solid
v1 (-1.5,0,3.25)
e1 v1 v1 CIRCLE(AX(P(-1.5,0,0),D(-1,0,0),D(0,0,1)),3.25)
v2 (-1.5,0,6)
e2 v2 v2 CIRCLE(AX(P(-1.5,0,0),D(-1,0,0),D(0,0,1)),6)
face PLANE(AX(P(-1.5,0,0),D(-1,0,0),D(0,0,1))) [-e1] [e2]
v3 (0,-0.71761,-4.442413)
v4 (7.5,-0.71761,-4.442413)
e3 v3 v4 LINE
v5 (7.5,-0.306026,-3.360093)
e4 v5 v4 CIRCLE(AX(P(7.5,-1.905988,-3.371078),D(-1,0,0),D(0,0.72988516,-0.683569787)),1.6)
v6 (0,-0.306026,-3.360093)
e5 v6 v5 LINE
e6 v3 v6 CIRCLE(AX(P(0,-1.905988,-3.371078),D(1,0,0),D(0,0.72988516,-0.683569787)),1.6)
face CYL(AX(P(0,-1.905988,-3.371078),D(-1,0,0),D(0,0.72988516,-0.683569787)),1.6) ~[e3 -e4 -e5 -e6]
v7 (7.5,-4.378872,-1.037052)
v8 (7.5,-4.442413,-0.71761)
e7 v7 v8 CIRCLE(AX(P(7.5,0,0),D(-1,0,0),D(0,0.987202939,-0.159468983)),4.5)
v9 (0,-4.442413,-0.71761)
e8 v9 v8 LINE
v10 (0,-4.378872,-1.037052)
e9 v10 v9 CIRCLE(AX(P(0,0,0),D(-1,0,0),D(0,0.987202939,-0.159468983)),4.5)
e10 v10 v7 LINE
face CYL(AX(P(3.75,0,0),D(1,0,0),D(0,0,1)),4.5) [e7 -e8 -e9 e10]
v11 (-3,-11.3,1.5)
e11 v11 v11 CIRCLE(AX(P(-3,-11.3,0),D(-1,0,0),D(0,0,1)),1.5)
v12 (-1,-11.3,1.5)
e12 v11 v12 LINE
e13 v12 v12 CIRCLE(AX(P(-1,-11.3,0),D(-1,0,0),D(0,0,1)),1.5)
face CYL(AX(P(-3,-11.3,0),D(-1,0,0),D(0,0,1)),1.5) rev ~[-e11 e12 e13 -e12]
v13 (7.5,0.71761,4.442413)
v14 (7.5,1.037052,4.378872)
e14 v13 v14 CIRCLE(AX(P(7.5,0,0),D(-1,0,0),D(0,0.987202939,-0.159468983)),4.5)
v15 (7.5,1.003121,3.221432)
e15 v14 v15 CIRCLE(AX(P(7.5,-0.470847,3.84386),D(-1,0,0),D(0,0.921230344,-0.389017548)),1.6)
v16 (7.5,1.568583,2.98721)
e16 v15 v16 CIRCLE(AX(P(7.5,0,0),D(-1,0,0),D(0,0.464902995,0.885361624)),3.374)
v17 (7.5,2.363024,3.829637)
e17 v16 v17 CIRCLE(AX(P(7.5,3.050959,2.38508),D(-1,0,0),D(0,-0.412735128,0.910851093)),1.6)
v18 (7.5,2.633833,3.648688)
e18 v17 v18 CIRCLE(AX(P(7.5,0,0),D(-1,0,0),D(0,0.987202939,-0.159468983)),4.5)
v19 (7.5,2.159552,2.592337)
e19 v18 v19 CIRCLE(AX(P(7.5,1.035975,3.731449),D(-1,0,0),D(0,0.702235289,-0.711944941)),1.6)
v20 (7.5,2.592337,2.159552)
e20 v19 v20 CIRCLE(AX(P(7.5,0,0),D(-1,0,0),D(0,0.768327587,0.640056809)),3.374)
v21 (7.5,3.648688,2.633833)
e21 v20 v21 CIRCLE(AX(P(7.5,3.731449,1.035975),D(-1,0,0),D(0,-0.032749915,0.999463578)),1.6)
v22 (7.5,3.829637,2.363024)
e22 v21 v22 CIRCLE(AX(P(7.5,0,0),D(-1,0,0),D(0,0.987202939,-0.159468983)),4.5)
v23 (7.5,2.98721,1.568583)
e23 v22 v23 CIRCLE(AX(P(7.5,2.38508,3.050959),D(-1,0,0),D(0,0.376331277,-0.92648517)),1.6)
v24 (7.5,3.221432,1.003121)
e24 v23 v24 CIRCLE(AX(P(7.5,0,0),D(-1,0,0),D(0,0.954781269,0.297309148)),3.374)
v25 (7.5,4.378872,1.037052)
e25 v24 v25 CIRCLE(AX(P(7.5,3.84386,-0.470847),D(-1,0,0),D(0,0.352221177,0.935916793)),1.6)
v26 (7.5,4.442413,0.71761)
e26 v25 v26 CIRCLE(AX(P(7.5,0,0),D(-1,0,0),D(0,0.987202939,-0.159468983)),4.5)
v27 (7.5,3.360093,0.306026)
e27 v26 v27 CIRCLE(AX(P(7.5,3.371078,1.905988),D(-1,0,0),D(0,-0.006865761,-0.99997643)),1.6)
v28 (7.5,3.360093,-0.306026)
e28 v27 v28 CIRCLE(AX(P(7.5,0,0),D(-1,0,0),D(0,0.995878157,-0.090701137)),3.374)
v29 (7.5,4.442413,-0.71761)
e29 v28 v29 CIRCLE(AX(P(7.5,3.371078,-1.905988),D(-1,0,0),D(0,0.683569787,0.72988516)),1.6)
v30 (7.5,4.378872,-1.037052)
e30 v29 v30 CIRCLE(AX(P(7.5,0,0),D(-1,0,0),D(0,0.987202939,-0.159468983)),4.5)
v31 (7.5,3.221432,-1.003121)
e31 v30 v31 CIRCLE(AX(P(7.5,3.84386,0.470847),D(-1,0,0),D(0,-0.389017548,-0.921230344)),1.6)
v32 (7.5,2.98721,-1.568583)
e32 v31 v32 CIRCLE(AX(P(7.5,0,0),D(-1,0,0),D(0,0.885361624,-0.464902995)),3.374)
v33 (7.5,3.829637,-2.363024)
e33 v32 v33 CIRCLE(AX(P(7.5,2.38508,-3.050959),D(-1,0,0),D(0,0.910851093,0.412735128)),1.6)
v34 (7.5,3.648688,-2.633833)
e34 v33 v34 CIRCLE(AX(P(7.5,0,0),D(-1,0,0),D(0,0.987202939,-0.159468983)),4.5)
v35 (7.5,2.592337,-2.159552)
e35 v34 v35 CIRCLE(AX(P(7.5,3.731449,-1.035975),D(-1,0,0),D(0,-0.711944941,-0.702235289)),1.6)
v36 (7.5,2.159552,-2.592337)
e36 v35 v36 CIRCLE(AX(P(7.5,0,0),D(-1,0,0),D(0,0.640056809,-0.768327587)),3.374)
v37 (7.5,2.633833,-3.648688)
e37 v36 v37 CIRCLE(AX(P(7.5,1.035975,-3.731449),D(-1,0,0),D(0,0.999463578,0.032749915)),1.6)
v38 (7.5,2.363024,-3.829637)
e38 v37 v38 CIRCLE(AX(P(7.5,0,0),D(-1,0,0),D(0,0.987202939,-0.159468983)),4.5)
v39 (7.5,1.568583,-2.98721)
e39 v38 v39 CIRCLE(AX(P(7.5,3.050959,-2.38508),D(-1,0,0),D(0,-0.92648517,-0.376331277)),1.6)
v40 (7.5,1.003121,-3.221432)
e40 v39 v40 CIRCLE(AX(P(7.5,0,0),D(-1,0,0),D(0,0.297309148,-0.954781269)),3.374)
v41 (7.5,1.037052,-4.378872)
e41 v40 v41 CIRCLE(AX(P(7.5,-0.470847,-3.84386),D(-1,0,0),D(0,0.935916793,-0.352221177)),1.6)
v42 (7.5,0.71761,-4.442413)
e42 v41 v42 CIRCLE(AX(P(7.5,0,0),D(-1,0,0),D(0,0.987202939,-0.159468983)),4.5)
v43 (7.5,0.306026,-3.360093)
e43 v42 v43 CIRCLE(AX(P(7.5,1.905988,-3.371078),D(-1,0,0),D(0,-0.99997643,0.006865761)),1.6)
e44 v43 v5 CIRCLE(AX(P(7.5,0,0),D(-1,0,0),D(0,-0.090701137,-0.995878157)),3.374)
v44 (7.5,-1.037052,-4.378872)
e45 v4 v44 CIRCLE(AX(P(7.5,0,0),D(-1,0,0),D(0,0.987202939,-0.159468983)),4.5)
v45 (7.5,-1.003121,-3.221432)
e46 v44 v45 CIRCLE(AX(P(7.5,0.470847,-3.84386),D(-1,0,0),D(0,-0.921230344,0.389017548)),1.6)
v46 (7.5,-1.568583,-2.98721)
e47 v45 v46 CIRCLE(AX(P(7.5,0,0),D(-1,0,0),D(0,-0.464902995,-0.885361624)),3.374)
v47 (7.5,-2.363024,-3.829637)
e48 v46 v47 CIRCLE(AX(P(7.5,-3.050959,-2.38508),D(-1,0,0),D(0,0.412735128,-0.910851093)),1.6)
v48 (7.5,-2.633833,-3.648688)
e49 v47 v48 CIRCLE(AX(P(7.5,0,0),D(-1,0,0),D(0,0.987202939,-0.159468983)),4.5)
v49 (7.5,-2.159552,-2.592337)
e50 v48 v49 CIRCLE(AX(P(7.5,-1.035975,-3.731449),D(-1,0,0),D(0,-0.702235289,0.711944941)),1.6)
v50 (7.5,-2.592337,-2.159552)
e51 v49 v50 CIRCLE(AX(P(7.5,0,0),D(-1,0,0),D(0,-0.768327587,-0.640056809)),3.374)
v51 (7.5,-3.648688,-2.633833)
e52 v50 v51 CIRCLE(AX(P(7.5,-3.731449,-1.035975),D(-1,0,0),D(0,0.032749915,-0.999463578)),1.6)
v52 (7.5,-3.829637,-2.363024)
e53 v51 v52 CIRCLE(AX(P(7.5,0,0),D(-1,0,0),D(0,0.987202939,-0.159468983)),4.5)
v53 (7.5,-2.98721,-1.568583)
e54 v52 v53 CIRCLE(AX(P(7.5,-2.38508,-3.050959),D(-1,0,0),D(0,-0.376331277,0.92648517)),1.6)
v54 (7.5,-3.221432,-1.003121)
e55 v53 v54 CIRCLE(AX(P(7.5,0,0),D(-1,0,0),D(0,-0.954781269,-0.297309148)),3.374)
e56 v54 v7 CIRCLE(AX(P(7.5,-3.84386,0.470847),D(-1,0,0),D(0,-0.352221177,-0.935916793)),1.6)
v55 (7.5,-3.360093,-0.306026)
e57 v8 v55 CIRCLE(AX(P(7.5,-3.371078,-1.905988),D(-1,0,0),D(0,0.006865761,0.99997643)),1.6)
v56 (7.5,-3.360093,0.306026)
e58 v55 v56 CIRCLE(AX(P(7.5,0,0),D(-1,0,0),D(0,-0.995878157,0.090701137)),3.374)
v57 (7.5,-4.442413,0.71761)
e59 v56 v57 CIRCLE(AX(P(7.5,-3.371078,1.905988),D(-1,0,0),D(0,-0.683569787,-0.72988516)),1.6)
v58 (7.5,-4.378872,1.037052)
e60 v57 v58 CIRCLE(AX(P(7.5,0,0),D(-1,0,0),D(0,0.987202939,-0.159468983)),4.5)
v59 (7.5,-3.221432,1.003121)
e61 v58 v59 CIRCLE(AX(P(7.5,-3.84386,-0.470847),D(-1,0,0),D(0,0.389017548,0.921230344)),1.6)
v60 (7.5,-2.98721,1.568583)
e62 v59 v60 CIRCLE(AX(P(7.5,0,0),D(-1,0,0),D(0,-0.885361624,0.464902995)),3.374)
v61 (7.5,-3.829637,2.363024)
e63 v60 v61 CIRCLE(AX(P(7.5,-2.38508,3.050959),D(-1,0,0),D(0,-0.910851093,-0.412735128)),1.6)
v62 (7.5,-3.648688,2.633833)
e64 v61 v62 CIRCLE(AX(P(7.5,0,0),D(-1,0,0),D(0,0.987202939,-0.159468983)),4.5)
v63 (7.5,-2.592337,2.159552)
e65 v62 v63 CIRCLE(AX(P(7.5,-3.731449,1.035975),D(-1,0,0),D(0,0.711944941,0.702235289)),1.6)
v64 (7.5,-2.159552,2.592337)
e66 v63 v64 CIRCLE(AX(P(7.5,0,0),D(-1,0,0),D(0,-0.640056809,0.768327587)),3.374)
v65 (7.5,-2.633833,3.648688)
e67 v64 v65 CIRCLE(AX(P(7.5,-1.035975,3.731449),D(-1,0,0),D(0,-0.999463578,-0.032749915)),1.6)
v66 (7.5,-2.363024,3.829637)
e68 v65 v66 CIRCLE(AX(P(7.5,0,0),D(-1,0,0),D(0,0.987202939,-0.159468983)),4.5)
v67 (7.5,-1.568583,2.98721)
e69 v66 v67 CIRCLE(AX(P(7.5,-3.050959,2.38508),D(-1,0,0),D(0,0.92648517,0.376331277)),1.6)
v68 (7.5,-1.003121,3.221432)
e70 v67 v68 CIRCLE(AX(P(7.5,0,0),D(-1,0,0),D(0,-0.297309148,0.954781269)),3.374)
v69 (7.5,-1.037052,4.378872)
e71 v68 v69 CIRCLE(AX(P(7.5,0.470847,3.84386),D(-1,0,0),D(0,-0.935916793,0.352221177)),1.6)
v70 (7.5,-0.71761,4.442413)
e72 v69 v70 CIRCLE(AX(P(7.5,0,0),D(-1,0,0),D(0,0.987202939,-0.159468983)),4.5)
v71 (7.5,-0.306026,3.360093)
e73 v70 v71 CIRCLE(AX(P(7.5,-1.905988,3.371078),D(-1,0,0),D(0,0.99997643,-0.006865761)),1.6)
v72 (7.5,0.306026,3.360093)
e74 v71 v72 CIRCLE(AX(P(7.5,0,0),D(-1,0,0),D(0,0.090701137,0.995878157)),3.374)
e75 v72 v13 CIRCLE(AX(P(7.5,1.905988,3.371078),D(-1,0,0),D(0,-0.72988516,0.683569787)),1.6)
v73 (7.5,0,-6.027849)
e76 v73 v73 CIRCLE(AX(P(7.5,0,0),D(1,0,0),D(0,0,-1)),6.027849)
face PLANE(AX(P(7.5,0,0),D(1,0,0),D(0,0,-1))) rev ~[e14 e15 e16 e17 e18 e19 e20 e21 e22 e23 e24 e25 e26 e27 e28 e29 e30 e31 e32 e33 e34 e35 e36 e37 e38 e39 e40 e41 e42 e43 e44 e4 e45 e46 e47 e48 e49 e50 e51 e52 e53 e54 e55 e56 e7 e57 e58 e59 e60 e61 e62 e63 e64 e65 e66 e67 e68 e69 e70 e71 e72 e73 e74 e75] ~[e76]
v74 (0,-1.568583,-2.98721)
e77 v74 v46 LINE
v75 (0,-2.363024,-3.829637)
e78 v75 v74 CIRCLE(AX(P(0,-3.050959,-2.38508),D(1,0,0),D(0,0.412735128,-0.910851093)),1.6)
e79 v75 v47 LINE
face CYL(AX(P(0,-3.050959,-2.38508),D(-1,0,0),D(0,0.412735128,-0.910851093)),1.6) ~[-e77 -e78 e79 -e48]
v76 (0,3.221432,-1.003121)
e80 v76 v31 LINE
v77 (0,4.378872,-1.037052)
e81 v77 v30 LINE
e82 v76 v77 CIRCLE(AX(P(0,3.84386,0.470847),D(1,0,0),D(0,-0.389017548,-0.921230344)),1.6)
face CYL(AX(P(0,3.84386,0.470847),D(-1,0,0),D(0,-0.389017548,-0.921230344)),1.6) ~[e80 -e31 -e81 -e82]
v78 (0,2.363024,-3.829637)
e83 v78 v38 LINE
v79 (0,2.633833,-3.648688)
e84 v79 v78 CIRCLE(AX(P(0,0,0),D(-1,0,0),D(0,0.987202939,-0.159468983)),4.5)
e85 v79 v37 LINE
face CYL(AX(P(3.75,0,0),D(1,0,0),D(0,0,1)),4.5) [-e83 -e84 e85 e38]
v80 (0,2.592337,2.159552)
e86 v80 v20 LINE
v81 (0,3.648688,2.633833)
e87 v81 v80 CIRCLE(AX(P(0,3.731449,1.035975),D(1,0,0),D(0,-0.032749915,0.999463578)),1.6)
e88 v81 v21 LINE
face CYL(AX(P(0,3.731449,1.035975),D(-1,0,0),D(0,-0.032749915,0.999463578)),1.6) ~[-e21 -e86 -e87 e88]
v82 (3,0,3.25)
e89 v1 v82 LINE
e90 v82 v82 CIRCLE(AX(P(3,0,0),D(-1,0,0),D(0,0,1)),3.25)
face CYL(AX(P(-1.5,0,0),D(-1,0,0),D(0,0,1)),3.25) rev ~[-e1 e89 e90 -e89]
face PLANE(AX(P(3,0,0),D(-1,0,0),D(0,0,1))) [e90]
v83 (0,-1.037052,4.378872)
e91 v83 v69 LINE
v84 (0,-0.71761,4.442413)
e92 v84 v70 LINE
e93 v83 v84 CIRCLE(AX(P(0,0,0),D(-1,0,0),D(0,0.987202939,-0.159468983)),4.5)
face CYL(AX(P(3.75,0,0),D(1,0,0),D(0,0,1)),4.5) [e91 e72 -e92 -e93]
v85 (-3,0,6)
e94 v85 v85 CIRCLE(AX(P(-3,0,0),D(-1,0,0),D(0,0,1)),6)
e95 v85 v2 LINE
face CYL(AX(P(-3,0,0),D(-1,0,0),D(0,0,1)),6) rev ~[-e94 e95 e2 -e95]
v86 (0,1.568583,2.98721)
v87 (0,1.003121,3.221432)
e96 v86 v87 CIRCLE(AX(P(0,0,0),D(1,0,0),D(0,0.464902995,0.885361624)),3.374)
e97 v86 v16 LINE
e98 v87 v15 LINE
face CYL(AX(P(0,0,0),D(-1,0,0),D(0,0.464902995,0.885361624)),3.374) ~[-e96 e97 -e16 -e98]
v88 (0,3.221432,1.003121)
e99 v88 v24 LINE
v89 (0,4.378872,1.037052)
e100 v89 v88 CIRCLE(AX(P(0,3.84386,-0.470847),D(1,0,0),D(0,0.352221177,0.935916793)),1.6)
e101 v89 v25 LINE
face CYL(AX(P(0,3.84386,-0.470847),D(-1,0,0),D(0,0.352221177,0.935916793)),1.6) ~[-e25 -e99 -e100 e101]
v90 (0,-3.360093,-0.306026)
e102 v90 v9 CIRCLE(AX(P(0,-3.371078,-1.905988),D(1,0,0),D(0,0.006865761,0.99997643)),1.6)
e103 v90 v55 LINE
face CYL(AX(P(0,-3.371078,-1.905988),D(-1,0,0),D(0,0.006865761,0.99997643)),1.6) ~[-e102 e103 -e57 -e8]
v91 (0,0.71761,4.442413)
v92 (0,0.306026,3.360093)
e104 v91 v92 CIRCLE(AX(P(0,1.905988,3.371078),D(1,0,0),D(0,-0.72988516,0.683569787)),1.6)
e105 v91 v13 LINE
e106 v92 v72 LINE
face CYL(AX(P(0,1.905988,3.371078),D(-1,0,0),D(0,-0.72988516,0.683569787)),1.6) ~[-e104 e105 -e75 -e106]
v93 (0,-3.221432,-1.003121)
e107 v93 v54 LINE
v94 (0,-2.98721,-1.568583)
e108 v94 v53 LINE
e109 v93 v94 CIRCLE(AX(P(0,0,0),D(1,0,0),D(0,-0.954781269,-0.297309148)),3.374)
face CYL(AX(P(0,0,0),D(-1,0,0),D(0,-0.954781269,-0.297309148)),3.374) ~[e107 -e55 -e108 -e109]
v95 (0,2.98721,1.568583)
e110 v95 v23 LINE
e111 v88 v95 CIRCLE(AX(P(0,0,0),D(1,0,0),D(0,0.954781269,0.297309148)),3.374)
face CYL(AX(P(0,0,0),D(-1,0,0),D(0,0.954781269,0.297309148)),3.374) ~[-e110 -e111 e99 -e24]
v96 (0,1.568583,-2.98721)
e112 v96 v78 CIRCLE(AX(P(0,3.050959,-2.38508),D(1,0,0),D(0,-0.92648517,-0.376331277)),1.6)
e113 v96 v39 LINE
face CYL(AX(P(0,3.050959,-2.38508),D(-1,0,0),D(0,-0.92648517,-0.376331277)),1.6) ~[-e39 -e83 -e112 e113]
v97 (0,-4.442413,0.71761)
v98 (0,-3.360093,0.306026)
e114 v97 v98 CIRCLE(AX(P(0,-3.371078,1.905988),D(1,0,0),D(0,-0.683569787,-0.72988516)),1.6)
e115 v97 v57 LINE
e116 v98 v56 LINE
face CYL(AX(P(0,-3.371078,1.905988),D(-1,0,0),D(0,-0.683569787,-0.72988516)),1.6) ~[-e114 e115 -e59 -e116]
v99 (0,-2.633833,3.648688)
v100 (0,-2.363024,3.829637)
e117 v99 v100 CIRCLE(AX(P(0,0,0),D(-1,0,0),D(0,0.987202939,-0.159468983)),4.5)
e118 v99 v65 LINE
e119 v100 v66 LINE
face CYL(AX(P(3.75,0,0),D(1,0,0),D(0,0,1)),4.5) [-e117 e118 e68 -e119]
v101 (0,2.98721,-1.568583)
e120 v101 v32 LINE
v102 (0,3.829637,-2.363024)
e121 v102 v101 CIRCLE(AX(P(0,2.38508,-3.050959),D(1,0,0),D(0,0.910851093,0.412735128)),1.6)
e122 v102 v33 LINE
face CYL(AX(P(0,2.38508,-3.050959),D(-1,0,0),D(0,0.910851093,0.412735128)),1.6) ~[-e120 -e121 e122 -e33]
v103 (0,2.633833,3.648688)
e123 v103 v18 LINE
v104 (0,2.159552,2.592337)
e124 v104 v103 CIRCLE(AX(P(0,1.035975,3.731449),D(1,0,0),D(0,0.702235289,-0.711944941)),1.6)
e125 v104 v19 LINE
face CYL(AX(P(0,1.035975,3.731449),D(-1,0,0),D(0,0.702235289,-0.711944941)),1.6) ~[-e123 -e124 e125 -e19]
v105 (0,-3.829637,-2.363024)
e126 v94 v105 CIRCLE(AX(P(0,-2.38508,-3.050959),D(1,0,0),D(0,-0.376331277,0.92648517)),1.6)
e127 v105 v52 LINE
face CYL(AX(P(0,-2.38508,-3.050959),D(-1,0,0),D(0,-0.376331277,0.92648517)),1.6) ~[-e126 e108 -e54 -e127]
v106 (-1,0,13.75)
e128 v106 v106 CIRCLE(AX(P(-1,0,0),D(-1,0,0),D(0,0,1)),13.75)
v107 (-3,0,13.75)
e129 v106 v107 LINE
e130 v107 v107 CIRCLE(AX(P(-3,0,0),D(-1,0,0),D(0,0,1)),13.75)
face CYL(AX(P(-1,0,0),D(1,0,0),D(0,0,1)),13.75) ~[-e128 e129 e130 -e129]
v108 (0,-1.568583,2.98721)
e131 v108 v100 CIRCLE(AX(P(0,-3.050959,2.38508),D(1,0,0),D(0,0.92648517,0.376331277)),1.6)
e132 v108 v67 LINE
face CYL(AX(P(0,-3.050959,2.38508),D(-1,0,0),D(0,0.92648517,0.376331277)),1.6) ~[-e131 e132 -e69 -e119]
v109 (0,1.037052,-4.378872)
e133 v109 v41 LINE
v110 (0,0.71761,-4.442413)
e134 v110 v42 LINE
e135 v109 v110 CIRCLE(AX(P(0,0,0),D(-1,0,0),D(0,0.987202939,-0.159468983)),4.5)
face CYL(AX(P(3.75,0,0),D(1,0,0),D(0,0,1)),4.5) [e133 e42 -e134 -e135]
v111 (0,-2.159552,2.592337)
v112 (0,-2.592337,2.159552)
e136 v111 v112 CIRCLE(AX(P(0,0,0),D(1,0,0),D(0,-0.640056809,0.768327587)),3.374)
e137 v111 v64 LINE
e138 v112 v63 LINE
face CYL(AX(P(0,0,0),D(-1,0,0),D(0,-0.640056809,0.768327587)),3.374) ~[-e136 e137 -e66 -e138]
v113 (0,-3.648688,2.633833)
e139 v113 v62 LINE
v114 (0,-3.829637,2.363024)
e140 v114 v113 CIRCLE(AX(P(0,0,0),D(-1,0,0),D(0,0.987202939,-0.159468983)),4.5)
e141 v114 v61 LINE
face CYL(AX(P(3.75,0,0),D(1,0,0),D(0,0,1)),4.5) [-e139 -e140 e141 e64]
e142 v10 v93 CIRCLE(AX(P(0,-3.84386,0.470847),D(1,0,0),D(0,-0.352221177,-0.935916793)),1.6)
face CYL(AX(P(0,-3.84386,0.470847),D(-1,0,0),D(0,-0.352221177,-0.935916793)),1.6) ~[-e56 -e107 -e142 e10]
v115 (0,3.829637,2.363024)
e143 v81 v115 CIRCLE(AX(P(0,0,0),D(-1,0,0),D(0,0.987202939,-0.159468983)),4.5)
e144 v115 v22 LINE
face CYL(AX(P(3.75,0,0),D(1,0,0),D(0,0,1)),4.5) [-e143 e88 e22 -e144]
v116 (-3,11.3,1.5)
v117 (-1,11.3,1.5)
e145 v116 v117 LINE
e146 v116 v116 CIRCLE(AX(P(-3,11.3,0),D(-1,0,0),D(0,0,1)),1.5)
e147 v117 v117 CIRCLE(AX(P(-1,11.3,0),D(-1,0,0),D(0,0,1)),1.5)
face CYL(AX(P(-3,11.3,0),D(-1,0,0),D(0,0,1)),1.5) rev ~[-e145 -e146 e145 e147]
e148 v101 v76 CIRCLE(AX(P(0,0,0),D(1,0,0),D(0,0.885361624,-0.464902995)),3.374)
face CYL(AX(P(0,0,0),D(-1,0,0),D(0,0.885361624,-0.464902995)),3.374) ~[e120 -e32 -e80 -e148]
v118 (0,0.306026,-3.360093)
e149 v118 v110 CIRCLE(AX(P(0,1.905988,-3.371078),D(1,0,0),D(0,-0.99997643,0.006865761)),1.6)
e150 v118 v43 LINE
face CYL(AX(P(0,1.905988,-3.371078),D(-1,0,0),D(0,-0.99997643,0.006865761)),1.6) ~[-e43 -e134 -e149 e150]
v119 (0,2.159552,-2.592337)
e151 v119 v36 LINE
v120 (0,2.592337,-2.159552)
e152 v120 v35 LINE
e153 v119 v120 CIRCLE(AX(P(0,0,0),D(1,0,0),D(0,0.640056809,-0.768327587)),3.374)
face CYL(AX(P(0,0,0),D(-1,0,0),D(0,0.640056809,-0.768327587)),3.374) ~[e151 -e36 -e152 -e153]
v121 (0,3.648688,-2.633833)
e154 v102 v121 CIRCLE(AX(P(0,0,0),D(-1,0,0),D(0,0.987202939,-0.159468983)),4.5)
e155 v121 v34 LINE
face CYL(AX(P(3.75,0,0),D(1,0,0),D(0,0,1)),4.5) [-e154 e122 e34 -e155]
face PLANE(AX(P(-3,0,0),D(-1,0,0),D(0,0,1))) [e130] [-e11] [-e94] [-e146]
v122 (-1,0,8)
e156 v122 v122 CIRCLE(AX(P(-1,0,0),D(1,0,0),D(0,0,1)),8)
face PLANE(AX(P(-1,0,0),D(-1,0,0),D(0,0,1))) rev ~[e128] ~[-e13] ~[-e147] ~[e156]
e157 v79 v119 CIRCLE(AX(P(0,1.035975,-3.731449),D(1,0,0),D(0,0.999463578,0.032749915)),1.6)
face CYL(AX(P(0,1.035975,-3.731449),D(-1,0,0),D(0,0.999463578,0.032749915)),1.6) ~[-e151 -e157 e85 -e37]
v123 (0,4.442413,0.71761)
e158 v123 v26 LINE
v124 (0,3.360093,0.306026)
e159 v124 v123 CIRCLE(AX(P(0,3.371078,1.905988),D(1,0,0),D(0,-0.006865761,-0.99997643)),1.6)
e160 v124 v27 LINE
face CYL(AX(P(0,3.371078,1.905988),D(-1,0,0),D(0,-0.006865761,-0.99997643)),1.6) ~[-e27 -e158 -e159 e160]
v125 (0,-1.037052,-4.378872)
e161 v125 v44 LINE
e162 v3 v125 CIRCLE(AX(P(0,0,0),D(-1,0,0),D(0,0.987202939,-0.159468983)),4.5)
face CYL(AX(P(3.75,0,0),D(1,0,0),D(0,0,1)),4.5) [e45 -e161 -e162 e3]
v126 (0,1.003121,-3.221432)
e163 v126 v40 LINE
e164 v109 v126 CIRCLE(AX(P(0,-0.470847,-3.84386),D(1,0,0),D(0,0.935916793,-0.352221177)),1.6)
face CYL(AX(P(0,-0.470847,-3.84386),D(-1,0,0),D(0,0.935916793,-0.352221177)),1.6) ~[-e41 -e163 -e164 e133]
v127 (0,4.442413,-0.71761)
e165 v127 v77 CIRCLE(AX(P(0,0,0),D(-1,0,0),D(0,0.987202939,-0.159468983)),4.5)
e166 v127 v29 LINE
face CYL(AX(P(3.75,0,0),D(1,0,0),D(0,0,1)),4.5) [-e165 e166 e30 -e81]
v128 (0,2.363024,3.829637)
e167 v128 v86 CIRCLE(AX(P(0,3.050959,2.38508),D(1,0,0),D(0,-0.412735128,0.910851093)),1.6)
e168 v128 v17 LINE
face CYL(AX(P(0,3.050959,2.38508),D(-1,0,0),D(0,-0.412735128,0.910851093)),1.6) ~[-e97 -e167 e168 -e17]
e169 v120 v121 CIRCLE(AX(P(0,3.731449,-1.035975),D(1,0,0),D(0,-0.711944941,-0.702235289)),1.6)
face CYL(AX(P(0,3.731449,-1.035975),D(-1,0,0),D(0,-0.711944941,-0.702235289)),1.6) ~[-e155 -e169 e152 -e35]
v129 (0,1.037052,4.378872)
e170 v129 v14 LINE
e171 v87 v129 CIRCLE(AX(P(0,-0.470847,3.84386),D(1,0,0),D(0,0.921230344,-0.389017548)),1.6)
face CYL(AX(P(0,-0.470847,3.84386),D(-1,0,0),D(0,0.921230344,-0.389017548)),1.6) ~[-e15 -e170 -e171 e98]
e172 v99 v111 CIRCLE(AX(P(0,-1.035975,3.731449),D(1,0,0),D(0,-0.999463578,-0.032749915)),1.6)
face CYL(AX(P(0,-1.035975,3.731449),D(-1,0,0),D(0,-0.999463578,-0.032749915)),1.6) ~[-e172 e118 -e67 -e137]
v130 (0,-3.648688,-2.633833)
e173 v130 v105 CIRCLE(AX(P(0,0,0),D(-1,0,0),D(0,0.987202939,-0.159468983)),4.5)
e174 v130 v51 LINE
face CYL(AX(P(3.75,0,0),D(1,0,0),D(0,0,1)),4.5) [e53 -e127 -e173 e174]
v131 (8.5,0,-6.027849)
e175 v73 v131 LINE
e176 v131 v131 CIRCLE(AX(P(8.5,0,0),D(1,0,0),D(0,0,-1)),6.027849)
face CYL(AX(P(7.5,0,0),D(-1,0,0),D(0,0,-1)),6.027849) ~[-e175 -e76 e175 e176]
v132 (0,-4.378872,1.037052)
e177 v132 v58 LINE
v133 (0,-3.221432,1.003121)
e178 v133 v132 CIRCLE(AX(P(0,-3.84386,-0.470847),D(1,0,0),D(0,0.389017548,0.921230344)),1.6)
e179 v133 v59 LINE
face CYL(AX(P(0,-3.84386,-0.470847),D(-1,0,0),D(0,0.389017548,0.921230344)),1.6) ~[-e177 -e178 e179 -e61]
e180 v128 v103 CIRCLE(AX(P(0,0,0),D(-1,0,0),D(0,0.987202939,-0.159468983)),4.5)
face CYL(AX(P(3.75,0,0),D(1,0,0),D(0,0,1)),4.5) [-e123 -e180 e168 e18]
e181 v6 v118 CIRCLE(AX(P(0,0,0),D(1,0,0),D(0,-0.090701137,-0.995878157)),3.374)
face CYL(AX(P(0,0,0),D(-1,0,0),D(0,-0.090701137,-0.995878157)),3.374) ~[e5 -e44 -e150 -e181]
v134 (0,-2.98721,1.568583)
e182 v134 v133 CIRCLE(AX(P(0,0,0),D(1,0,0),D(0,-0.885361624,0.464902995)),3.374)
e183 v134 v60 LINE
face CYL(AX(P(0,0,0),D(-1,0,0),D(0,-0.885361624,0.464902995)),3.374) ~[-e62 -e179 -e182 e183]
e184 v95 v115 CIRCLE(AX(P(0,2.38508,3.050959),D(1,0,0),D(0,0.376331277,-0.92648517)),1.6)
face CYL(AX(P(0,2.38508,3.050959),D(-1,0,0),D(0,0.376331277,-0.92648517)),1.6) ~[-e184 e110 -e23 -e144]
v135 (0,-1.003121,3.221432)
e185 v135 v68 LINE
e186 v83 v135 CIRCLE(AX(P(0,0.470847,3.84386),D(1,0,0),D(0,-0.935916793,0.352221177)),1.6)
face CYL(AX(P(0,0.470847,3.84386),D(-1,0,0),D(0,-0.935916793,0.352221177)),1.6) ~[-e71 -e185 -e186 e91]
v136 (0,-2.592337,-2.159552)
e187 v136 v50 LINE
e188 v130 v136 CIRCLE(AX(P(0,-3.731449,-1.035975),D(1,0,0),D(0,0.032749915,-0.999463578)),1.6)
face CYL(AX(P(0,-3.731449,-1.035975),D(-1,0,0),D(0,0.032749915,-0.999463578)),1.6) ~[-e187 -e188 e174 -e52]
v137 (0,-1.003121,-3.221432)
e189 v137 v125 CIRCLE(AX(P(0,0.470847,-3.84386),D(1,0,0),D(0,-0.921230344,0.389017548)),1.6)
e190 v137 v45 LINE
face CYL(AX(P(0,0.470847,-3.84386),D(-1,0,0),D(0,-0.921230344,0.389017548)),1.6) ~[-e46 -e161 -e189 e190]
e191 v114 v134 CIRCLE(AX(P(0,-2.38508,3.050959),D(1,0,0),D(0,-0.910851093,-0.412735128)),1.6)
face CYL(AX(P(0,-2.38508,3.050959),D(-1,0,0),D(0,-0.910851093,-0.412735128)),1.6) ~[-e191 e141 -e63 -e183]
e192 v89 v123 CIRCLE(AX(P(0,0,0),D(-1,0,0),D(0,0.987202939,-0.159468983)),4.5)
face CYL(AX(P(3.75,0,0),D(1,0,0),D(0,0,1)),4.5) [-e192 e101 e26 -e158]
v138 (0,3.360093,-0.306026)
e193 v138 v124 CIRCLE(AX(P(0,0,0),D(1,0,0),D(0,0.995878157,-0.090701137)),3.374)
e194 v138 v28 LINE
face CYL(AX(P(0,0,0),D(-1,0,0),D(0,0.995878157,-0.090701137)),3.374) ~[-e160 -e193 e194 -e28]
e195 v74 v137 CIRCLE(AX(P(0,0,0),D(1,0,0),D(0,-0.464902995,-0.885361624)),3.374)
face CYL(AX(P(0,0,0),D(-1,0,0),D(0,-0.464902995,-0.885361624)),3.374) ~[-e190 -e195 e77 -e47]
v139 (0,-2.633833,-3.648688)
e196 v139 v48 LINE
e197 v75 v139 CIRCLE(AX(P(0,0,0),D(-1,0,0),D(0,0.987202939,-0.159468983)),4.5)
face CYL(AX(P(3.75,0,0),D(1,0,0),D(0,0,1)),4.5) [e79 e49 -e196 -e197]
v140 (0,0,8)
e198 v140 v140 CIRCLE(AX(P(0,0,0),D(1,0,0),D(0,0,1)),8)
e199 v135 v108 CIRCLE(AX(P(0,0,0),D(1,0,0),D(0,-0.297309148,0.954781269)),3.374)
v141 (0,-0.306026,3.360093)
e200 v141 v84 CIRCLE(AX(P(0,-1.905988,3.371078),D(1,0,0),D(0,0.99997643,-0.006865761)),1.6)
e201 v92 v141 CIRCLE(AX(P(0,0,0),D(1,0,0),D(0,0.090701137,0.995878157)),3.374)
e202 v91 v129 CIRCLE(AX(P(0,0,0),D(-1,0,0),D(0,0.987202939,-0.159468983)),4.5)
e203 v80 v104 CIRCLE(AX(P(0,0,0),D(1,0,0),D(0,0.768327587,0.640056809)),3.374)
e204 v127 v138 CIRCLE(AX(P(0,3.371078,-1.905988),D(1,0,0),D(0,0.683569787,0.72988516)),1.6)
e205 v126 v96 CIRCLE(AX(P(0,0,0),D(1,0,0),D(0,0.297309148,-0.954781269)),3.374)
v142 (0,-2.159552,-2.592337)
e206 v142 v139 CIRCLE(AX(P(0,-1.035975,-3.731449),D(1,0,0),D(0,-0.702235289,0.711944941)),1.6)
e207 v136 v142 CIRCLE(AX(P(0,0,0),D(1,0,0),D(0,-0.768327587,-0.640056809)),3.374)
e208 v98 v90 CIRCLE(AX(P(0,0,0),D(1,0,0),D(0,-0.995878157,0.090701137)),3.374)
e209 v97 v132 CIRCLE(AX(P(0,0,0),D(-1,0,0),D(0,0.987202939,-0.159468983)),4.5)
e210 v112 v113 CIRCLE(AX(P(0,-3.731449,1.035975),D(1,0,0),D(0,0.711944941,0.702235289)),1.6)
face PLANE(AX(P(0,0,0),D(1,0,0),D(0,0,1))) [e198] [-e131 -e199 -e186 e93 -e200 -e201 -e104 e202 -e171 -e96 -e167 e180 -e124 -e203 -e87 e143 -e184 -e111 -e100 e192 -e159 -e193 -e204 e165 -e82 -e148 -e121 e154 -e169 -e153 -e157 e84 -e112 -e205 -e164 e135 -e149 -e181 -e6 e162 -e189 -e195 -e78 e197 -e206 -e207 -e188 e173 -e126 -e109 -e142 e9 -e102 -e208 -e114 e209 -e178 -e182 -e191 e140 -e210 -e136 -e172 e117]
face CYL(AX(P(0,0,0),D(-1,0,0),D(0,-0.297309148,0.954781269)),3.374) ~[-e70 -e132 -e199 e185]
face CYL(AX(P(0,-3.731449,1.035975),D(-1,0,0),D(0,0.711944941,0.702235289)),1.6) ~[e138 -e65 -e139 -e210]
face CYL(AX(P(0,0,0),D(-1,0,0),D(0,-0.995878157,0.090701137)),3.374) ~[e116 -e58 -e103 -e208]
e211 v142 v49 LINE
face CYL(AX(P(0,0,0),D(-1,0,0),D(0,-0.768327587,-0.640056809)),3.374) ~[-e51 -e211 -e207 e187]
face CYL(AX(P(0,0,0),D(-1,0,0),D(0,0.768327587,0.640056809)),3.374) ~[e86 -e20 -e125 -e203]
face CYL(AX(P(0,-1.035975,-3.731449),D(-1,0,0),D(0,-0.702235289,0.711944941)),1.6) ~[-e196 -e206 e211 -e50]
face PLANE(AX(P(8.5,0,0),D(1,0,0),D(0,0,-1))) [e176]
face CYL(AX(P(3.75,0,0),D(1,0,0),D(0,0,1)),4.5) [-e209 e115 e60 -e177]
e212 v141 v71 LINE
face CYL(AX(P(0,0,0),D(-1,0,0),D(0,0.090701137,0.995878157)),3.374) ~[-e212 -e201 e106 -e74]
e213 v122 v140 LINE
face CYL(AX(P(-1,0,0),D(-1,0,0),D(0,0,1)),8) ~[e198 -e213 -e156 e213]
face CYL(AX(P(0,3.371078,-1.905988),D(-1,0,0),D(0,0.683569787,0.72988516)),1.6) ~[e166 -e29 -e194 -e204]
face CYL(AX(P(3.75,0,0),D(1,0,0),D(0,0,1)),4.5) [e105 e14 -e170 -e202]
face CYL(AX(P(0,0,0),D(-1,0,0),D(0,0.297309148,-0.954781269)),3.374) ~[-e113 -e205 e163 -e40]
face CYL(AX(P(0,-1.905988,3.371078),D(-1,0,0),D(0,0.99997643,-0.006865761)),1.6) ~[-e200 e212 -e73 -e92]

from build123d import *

# Parameters (mm, degrees)
BASPROSKE_W             = 7.5
BASPROSKE_H             = 4.5
TOOTHCUT_DEPTH          = 10.836157786
TEETHCUTS_COUNT         = 16
TEETHCUTS_ANGLE         = 337.5
BORSKE_R                = 2.5
BORE_DEPTH              = 50.0000508
ESQUISSE4_R             = 6
BOSS_EXTRU_3_DEPTH      = 1
ESQUISSE5_R             = 6.027848577
ESQUISSE5_R_2           = 2.85
BOSS_EXTRU_4_DEPTH      = 1
ESQUISSE7_R             = 3.00711341
BOSS_EXTRU_6_DEPTH      = 8.5
ESQUISSE9_R             = 13.75
ESQUISSE9_R_2           = 5.5
BOSS_EXTRU_8_DEPTH      = 2
ESQUISSE10_R            = 1.5
ENL_V_MAT_EXTRU_3_DEPTH = 23.591480695
ESQUISSE11_R            = 3
ENL_V_MAT_EXTRU_4_DEPTH = 4
BOSS_EXTRU_9_START      = 4
ESQUISSE12_R            = 3
BOSS_EXTRU_9_DEPTH      = 4
ESQUISSE13_R            = 5.5
BOSS_EXTRU_10_DEPTH     = 2
ESQUISSE16_R            = 8
BOSS_EXTRU_11_DEPTH     = 1
ESQUISSE14_R            = 6
ENL_V_MAT_EXTRU_5_DEPTH = 1.5
ESQUISSE15_R            = 3.25
ENL_V_MAT_EXTRU_6_DEPTH = 4.5


with BuildPart() as part:
    # BasProSke → Base-Revolve (revolve)
    with BuildSketch(Plane(origin=(0, 0, 0), x_dir=(1, 0, 0), z_dir=(0, 1, 0)), mode=Mode.PRIVATE) as base_revolve_sk:
        with Locations((3.75, 2.25)):
            Rectangle(BASPROSKE_W, BASPROSKE_H)
    revolve(base_revolve_sk.sketch.rotate(Axis((-10, 0, 0), (1, 0, 0)), 180), axis=Axis((-10, 0, 0), (1, 0, 0)))

    # TooCutSke → ToothCut (cut, through all)
    with BuildSketch(Plane(origin=(0, 0, 0), x_dir=(0, 0, -1), z_dir=(1, 0, 0))):
        with BuildLine():
            ThreePointArc((0.306025637, 3.360092902), (0, 3.374), (-0.306025637, 3.360092902))
            ThreePointArc((-0.306025637, 3.360092902), (-0.415941512, 3.953968919), (-0.738171669, 4.464789776))
            ThreePointArc((-0.738171669, 4.464789776), (0, 4.5254), (0.738171669, 4.464789776))
            ThreePointArc((0.738171669, 4.464789776), (0.415941512, 3.953968919), (0.306025637, 3.360092902))
        make_face()
    toothcut = extrude(amount=TOOTHCUT_DEPTH, mode=Mode.SUBTRACT)

    # TeethCuts: ToothCut ×16 about axis
    teethcuts_axis = Axis((-10, 0, 0), (1, 0, 0))
    for i in range(1, TEETHCUTS_COUNT):
        add(toothcut.rotate(teethcuts_axis, i * TEETHCUTS_ANGLE / (TEETHCUTS_COUNT - 1)), mode=Mode.SUBTRACT)

    # BorSke → Bore (cut, symmetric)
    with BuildSketch(Plane(origin=(0, 0, 0), x_dir=(0, 0, -1), z_dir=(1, 0, 0))):
        with Locations(Location((0, 0, 0), (0, 0, 180))):
            Circle(BORSKE_R)
    extrude(amount=BORE_DEPTH, both=True, mode=Mode.SUBTRACT)

    # Esquisse4 → Boss.-Extru.3 (add)
    with BuildSketch(Plane.ZY):
        Circle(ESQUISSE4_R)
    extrude(amount=BOSS_EXTRU_3_DEPTH)

    # Esquisse5 → Boss.-Extru.4 (add)
    with BuildSketch(Plane(origin=(7.5, 0, 0), x_dir=(0, 0, -1), z_dir=(1, 0, 0))):
        Circle(ESQUISSE5_R)
        Circle(ESQUISSE5_R_2, mode=Mode.SUBTRACT)
    extrude(amount=BOSS_EXTRU_4_DEPTH)

    # Esquisse7 → Boss.-Extru.6 (add)
    with BuildSketch(Plane(origin=(0, 0, 0), x_dir=(0, 0, -1), z_dir=(1, 0, 0))):
        Circle(ESQUISSE7_R)
    extrude(amount=BOSS_EXTRU_6_DEPTH)

    # Esquisse9 → Boss.-Extru.8 (add)
    with BuildSketch(Plane.ZY.offset(1)):
        Circle(ESQUISSE9_R)
        Circle(ESQUISSE9_R_2, mode=Mode.SUBTRACT)
    extrude(amount=BOSS_EXTRU_8_DEPTH)

    # Esquisse10 → Enlèv. mat.-Extru.3 (cut, through all)
    with BuildSketch(Plane.ZY.offset(3)):
        with Locations((0, 11.3)):
            Circle(ESQUISSE10_R)
        with Locations((0, -11.3)):
            Circle(ESQUISSE10_R)
    extrude(amount=-ENL_V_MAT_EXTRU_3_DEPTH, mode=Mode.SUBTRACT)

    # Esquisse11 → Enlèv. mat.-Extru.4 (cut)
    with BuildSketch(Plane.ZY.offset(1)):
        Circle(ESQUISSE11_R)
    extrude(amount=-ENL_V_MAT_EXTRU_4_DEPTH, mode=Mode.SUBTRACT)

    # Esquisse12 → Boss.-Extru.9 (add)
    with BuildSketch(Plane.ZY.offset(-3).offset(BOSS_EXTRU_9_START)):
        Circle(ESQUISSE12_R)
    extrude(amount=-BOSS_EXTRU_9_DEPTH)

    # Esquisse13 → Boss.-Extru.10 (add)
    with BuildSketch(Plane.ZY.offset(1)):
        Circle(ESQUISSE13_R)
    extrude(amount=BOSS_EXTRU_10_DEPTH)

    # Esquisse16 → Boss.-Extru.11 (add)
    with BuildSketch(Plane(origin=(-1, 0, 0), x_dir=(0, 0, -1), z_dir=(1, 0, 0))):
        with Locations(Location((0, 0, 0), (0, 0, 180))):
            Circle(ESQUISSE16_R)
    extrude(amount=BOSS_EXTRU_11_DEPTH)

    # Esquisse14 → Enlèv. mat.-Extru.5 (cut)
    with BuildSketch(Plane.ZY.offset(3)):
        Circle(ESQUISSE14_R)
    extrude(amount=-ENL_V_MAT_EXTRU_5_DEPTH, mode=Mode.SUBTRACT)

    # Esquisse15 → Enlèv. mat.-Extru.6 (cut)
    with BuildSketch(Plane.ZY.offset(1.5)):
        Circle(ESQUISSE15_R)
    extrude(amount=-ENL_V_MAT_EXTRU_6_DEPTH, mode=Mode.SUBTRACT)


solid = part.part
